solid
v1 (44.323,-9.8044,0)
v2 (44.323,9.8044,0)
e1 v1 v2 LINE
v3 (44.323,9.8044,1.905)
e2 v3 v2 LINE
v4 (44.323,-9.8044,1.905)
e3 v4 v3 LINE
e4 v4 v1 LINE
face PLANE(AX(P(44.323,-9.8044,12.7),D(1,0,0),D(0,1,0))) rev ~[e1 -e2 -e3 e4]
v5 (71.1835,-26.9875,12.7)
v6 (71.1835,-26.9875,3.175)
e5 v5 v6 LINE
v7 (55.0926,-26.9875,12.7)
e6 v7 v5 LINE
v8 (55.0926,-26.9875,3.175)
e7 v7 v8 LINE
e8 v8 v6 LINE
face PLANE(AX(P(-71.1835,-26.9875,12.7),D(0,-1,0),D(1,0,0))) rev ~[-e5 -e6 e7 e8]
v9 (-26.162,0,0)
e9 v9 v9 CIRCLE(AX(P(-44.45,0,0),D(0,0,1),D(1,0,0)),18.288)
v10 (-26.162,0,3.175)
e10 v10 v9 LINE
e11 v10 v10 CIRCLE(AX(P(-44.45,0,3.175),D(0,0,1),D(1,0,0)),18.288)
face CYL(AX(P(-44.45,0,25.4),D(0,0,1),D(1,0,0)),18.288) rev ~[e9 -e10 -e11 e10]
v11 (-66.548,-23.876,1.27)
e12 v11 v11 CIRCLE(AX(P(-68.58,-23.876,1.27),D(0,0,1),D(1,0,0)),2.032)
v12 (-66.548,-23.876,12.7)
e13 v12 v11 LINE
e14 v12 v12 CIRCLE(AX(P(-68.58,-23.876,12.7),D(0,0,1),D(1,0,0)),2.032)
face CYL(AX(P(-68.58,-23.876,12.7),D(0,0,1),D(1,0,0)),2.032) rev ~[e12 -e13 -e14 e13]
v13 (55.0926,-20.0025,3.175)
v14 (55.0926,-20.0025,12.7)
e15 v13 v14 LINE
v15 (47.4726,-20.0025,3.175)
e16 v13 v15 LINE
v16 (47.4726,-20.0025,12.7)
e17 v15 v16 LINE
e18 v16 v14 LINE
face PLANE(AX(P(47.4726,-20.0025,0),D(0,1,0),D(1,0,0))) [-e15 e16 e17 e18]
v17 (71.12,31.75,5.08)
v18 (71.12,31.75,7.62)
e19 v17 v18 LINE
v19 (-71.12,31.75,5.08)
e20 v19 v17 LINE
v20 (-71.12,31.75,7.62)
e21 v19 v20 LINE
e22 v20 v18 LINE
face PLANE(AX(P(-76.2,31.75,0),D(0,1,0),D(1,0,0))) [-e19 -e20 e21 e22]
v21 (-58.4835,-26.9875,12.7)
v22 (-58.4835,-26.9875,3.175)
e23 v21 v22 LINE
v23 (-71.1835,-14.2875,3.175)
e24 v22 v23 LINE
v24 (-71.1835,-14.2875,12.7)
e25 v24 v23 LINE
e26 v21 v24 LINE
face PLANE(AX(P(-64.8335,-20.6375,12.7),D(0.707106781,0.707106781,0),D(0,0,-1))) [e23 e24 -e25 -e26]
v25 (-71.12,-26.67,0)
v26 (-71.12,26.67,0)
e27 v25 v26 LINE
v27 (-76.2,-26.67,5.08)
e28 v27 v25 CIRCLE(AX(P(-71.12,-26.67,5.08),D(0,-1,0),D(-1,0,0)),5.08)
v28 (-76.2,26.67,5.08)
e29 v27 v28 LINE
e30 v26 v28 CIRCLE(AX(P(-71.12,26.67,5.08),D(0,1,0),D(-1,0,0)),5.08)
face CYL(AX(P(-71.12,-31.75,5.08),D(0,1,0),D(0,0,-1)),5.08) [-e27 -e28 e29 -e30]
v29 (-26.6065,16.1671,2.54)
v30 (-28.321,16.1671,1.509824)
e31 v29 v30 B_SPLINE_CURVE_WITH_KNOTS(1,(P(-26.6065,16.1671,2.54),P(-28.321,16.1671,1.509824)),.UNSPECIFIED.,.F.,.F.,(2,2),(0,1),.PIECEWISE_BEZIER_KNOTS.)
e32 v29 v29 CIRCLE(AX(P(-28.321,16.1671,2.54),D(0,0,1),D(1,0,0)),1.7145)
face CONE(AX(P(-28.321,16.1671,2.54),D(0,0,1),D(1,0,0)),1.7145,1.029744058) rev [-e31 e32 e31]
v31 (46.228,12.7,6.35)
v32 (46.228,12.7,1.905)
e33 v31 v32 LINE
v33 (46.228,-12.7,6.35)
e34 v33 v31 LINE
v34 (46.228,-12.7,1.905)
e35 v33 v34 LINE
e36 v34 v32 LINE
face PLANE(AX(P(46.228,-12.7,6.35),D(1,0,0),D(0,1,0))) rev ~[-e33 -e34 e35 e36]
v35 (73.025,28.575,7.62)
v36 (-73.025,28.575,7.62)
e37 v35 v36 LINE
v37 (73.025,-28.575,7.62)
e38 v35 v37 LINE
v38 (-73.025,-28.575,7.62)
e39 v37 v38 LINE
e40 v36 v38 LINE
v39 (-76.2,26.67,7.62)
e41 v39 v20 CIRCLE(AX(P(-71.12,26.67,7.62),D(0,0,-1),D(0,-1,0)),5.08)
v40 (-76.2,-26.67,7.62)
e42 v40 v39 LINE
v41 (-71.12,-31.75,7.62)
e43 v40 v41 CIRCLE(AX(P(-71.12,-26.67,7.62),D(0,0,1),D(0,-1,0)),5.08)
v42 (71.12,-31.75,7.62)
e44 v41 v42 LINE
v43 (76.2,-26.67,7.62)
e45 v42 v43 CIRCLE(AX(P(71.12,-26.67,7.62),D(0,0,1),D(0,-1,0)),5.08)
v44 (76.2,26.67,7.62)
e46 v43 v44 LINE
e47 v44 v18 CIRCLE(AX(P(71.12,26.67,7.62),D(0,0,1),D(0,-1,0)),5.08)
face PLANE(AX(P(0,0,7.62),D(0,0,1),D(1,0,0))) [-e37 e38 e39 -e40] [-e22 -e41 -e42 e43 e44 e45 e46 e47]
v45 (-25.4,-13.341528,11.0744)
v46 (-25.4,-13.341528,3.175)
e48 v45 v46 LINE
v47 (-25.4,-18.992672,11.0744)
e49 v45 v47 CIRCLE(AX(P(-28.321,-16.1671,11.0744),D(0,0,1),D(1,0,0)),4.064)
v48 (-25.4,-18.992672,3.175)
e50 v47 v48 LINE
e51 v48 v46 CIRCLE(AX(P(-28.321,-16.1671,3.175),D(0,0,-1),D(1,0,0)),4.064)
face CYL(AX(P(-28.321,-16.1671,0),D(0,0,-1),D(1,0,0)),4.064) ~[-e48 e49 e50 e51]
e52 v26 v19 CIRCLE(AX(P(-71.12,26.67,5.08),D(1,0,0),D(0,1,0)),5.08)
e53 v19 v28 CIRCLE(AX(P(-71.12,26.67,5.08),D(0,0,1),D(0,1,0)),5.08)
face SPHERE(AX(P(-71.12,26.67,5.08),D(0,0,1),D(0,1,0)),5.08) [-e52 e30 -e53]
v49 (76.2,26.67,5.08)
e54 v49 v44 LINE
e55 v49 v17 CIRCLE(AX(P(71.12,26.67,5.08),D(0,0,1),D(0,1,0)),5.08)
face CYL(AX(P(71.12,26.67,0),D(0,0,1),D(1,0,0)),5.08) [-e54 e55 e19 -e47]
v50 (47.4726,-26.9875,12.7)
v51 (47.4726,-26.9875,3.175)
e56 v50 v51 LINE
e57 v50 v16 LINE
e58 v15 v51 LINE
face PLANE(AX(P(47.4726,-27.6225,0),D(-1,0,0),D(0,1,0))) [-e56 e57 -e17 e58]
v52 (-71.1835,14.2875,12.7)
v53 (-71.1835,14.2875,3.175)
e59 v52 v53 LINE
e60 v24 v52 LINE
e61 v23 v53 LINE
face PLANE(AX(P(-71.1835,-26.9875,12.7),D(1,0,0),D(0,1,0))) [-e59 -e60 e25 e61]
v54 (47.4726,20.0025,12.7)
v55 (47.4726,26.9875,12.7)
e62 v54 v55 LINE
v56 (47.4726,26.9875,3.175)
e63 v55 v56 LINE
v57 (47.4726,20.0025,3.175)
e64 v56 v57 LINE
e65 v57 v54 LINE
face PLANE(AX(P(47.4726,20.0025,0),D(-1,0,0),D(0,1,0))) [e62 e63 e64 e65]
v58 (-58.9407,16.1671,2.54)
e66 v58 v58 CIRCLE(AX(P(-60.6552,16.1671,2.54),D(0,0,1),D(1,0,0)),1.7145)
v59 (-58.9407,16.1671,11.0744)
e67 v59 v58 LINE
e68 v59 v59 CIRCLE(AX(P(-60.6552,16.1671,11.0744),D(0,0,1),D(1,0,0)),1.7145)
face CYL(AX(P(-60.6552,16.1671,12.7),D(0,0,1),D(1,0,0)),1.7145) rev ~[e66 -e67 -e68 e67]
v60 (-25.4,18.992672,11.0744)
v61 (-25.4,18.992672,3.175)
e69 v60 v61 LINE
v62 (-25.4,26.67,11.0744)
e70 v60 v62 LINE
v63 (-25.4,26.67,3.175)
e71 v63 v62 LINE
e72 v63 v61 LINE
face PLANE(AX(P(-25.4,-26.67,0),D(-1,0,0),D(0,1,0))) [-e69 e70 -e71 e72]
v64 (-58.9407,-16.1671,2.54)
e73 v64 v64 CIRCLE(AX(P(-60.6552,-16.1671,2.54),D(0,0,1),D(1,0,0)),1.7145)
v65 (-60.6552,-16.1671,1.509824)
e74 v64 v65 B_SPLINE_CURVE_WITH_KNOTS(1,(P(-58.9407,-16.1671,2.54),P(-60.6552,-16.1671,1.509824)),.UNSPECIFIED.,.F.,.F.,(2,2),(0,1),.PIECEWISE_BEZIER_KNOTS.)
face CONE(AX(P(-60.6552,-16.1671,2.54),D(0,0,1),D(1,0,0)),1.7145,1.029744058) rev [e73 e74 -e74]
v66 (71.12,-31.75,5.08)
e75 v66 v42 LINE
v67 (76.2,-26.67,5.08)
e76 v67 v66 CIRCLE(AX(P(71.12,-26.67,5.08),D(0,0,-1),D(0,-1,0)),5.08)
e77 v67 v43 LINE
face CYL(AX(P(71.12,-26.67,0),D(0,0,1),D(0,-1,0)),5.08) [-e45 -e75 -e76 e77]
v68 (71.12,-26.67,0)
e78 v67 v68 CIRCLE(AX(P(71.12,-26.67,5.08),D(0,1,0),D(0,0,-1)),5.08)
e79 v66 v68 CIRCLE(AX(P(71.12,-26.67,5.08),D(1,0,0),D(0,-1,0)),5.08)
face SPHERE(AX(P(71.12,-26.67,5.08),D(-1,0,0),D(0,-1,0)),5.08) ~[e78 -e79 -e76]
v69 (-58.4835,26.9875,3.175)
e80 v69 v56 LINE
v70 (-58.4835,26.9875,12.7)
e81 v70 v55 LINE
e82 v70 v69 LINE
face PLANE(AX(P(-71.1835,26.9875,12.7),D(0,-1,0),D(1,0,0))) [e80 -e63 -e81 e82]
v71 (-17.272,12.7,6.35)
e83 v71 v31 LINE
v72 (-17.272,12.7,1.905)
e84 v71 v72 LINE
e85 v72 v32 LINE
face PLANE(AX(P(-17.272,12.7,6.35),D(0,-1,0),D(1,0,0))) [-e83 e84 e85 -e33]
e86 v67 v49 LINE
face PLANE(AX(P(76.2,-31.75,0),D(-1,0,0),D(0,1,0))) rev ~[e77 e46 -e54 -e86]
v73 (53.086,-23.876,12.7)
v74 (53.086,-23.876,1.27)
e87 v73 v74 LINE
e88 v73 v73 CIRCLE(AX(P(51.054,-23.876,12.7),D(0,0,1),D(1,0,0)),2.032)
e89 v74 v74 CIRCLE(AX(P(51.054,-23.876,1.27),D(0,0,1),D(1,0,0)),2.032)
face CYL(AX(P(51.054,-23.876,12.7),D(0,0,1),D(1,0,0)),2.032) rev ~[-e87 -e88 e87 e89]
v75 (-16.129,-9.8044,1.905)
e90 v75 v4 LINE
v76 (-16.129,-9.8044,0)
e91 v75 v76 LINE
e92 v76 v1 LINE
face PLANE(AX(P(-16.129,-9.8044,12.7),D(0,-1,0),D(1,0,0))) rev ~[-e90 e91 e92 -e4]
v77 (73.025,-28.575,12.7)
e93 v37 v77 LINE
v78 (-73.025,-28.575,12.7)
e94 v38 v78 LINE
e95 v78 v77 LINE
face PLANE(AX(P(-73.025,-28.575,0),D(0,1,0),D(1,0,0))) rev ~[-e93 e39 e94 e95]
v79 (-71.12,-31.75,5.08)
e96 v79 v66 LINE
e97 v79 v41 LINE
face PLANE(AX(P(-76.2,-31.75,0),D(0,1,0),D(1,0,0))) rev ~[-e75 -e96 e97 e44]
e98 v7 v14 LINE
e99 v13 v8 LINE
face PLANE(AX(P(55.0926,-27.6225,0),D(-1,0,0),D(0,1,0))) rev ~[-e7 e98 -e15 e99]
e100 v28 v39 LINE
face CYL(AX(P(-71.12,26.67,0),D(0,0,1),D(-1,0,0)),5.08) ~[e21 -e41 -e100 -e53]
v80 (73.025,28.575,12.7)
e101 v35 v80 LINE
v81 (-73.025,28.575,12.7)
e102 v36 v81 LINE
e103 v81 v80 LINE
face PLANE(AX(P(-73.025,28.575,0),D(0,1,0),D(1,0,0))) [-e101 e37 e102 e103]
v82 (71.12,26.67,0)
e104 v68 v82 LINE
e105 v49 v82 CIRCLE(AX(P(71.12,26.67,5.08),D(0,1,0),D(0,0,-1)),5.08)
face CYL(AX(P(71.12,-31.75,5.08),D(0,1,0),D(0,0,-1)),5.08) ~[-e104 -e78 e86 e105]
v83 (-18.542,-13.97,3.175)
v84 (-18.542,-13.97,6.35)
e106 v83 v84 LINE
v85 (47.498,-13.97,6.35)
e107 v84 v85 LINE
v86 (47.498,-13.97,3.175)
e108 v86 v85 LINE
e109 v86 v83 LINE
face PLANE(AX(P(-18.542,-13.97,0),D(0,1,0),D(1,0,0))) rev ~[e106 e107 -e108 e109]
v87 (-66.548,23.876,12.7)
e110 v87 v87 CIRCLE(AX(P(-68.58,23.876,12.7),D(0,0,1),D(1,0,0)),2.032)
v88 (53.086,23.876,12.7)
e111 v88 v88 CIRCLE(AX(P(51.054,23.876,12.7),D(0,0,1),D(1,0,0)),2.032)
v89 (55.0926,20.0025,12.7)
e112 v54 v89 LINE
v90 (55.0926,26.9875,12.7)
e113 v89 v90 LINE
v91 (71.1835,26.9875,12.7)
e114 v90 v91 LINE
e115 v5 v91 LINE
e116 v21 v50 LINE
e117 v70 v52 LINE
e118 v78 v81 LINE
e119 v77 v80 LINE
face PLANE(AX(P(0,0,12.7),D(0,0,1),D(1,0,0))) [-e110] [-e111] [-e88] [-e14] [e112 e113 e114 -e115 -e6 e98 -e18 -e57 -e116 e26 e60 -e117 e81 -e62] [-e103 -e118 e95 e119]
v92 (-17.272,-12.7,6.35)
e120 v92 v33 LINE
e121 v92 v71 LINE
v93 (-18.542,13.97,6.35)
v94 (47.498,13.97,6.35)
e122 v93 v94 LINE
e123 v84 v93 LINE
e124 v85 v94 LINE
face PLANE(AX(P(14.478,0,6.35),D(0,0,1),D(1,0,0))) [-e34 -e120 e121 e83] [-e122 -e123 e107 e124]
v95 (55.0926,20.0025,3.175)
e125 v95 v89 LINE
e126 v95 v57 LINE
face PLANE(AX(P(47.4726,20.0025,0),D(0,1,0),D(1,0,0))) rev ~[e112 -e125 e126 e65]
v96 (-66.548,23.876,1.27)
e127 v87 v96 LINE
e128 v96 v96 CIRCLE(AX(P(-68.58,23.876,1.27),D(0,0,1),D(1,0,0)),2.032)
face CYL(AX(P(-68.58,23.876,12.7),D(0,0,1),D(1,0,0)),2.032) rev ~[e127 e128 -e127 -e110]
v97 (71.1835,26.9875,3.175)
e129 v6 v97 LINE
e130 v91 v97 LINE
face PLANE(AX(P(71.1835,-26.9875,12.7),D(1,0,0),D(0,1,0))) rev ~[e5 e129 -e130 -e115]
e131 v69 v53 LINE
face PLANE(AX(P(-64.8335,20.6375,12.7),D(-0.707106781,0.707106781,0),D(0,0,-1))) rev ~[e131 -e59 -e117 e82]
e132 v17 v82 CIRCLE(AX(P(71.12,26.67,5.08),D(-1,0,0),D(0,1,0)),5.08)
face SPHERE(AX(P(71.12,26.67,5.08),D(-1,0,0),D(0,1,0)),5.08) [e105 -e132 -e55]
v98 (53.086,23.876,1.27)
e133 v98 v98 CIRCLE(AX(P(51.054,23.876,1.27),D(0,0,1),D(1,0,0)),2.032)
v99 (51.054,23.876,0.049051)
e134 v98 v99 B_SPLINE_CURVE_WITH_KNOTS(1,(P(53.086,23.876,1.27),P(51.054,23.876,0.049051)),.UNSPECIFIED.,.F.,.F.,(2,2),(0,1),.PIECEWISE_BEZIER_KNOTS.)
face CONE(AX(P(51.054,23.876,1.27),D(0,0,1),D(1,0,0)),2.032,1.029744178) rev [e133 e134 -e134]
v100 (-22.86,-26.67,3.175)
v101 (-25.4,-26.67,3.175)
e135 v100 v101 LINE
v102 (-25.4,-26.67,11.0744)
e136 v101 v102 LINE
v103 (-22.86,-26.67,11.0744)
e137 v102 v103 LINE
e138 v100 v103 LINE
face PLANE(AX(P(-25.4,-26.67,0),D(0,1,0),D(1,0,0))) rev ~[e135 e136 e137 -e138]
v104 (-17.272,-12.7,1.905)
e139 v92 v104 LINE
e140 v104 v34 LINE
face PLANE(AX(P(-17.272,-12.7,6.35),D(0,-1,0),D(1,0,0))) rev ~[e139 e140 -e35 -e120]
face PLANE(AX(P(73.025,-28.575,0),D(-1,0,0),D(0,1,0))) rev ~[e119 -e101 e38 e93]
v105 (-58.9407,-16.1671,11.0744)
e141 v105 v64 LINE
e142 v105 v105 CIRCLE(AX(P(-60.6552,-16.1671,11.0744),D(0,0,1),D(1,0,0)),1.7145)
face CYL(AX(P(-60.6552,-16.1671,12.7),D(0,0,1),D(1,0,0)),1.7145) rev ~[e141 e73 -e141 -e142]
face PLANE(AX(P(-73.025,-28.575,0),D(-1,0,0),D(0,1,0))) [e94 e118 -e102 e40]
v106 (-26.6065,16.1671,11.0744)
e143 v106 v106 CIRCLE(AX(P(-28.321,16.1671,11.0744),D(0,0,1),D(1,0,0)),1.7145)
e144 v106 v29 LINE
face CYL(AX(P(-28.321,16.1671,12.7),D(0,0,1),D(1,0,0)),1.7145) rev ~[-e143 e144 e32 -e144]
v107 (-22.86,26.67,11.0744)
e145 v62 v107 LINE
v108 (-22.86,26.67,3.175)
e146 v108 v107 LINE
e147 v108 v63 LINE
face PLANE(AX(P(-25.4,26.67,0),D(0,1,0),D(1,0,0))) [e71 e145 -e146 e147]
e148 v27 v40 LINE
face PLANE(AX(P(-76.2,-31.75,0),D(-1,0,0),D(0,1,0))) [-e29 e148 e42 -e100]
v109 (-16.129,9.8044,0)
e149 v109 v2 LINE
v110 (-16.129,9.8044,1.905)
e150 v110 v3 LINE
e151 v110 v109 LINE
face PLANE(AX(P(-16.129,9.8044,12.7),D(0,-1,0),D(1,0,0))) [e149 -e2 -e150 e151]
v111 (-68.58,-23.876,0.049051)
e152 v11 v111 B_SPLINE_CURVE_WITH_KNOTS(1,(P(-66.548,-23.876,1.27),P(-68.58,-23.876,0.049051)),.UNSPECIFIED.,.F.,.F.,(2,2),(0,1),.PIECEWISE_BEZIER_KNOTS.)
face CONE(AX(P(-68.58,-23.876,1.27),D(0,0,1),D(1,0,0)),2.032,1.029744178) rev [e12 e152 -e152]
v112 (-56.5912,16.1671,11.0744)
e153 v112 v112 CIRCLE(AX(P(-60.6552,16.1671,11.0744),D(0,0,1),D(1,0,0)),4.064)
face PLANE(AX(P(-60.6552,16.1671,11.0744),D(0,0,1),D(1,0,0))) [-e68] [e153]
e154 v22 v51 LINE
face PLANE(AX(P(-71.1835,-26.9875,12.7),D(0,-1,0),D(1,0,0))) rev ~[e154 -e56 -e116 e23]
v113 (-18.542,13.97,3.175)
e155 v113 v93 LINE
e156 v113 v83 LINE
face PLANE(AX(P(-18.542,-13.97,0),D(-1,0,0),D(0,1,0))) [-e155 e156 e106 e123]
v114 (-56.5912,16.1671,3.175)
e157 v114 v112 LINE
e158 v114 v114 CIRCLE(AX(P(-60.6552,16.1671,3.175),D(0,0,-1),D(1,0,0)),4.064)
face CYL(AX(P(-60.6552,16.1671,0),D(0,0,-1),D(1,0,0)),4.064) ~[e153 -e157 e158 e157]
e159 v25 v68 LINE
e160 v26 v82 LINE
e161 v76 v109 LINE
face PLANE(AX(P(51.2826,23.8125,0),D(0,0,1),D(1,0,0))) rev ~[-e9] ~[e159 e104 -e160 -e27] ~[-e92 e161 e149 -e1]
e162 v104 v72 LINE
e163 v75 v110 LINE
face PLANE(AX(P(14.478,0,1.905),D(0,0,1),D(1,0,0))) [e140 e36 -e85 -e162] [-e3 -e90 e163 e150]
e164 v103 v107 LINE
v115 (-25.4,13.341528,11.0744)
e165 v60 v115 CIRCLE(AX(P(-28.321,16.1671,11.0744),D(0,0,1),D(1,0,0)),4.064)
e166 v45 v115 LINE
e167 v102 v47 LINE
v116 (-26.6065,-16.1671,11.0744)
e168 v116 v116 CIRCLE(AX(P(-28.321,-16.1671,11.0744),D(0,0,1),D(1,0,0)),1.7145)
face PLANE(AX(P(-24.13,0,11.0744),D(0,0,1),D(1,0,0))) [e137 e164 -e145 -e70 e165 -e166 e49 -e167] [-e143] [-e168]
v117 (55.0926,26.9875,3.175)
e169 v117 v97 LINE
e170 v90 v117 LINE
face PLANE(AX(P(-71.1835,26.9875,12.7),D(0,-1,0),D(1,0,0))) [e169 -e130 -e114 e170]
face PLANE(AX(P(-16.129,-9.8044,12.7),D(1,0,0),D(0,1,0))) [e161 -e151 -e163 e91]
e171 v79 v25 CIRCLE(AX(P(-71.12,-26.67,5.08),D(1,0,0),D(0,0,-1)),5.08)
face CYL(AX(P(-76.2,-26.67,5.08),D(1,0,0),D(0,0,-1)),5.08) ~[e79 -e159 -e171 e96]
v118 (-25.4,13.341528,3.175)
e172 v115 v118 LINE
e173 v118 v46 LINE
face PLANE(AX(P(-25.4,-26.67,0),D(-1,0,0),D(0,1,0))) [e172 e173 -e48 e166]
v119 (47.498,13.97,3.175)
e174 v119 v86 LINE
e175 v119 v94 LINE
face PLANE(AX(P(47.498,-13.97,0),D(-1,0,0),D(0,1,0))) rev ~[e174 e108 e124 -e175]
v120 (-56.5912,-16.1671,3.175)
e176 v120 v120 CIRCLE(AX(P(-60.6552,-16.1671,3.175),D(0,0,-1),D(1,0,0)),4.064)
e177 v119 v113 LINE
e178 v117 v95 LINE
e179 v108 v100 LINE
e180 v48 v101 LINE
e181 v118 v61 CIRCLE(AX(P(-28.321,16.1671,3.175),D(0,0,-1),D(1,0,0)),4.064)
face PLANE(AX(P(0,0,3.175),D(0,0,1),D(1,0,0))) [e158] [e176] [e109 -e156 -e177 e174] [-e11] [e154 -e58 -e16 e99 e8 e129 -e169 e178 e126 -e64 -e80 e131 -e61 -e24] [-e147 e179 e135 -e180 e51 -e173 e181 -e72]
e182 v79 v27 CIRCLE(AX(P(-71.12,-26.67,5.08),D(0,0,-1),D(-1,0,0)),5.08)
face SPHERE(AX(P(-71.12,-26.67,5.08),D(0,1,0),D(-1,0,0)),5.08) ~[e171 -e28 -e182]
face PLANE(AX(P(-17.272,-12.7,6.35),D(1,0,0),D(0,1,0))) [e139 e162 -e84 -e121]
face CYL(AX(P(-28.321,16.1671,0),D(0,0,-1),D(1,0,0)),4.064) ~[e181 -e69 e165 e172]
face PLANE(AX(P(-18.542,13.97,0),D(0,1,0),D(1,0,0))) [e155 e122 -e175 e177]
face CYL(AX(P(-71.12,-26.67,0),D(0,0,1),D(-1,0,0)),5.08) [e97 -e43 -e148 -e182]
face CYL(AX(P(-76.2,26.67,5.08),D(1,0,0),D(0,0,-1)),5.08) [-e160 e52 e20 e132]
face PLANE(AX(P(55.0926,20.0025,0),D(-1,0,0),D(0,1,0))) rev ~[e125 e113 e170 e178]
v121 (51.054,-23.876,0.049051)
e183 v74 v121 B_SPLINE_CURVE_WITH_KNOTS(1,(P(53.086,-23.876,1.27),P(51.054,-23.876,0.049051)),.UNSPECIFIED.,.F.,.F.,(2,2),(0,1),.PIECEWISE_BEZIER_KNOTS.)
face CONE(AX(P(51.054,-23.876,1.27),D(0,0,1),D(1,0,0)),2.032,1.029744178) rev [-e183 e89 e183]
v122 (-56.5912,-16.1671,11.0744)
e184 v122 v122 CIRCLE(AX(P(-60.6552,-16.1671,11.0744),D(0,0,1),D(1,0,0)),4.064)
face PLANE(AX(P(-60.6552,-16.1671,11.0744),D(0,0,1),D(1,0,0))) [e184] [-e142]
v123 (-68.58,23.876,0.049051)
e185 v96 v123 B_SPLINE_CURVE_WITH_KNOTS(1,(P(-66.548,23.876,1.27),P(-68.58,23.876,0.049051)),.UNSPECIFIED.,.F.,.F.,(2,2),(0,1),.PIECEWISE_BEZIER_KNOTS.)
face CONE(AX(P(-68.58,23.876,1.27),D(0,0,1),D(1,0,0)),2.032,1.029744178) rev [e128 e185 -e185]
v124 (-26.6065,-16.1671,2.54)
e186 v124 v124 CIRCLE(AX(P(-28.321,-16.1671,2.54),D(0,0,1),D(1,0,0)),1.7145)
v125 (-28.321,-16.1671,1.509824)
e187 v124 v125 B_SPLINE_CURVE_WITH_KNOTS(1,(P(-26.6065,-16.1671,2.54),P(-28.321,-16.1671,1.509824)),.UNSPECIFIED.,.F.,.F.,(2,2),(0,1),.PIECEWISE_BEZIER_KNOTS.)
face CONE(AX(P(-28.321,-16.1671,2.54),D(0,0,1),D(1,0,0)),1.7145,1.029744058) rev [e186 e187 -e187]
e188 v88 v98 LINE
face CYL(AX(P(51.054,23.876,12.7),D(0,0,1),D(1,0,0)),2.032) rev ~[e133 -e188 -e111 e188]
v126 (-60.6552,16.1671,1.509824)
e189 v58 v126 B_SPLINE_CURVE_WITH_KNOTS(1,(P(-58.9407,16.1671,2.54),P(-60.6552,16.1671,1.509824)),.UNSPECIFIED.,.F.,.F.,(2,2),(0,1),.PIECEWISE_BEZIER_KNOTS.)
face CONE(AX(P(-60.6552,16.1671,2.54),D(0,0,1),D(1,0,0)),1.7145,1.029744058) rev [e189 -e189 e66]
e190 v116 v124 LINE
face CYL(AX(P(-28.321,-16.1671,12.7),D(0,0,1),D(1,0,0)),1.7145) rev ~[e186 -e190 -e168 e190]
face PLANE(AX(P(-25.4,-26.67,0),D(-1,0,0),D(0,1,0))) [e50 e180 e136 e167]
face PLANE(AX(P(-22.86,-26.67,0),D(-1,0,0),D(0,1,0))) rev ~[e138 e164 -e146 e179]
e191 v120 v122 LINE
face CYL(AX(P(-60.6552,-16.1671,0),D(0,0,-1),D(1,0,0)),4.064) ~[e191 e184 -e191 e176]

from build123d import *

# Parameters (mm, degrees)
SKETCH_W        = 152.4
SKETCH_H        = 63.5
PAD_DEPTH       = 7.62
SKETCH001_W     = 146.05
SKETCH001_H     = 57.15
PAD001_DEPTH    = 12.7
SKETCH002_W     = 142.367
SKETCH002_H     = 53.975
POCKET_DEPTH    = 9.525
CHAMFER_SIZE    = 12.7
SKETCH003_R     = 18.288
POCKET001_DEPTH = 25.401
SKETCH004_R     = 4.064
PAD002_DEPTH    = 11.0744
SKETCH005_R     = 1.7145
HOLE_DEPTH      = 10.16
HOLE_TIPS_R     = 1.7145
SKETCH006_W     = 2.54
SKETCH006_H     = 53.34
PAD003_DEPTH    = 11.0744
SKETCH008_W     = 66.04
SKETCH008_H     = 27.94
PAD004_DEPTH    = 6.35
SKETCH009_W     = 63.5
SKETCH009_H     = 25.4
POCKET003_DEPTH = 4.445
SKETCH010_W     = 60.452
SKETCH010_H     = 19.6088
POCKET004_DEPTH = 12.701
SKETCH011_W     = 7.62
SKETCH011_H     = 7.62
PAD005_DEPTH    = 12.7
SKETCH012_R     = 2.032
HOLE001_DEPTH   = 11.43
HOLE001_TIPS_R  = 2.032
FILLET_R        = 5.08


with BuildPart() as part:
    # Sketch → Pad (new body)
    with BuildSketch(Plane.XY):
        Rectangle(SKETCH_W, SKETCH_H)
    extrude(amount=PAD_DEPTH)

    # Sketch001 → Pad001 (join)
    with BuildSketch(Plane.XY):
        Rectangle(SKETCH001_W, SKETCH001_H)
    extrude(amount=PAD001_DEPTH)

    # Sketch002 → Pocket (cut)
    with BuildSketch(Plane.XY.offset(12.7)):
        Rectangle(SKETCH002_W, SKETCH002_H)
    extrude(amount=-POCKET_DEPTH, mode=Mode.SUBTRACT)

    # Chamfer
    chamfer_edges = [part.edges().sort_by_distance(p)[0] for p in [
        (-71.1835, 26.9875, 7.9375),
        (-71.1835, -26.9875, 7.9375),
    ]]
    chamfer(chamfer_edges, length=CHAMFER_SIZE)

    # Sketch003 → Pocket001 (cut, through all)
    with BuildSketch(Plane.XY.offset(25.4)):
        with Locations((-44.45, 0)):
            Circle(SKETCH003_R)
    extrude(amount=-POCKET001_DEPTH, mode=Mode.SUBTRACT)

    # Sketch004 → Pad002 (join)
    with BuildSketch(Plane.XY):
        with Locations((-60.6552, -16.1671)):
            Circle(SKETCH004_R)
        with Locations((-28.321, -16.1671)):
            Circle(SKETCH004_R)
        with Locations((-28.321, 16.1671)):
            Circle(SKETCH004_R)
        with Locations((-60.6552, 16.1671)):
            Circle(SKETCH004_R)
    extrude(amount=PAD002_DEPTH)

    # Sketch005 → Hole (cut)
    with BuildSketch(Plane.XY.offset(12.7)):
        with Locations((-60.6552, -16.1671)):
            Circle(SKETCH005_R)
        with Locations((-28.321, -16.1671)):
            Circle(SKETCH005_R)
        with Locations((-28.321, 16.1671)):
            Circle(SKETCH005_R)
        with Locations((-60.6552, 16.1671)):
            Circle(SKETCH005_R)
    extrude(amount=-HOLE_DEPTH, mode=Mode.SUBTRACT)

    # Hole tips → Hole tip 1 section 0
    with BuildSketch(Plane.XY.offset(2.54), mode=Mode.PRIVATE) as hole_tip_1_s0:
        with Locations((-60.6552, -16.1671)):
            Circle(HOLE_TIPS_R)
    loft([hole_tip_1_s0.sketch, Vertex(-60.6552, -16.1671, 1.509824)], mode=Mode.SUBTRACT)

    # Hole tips → Hole tip 2 section 0
    with BuildSketch(Plane.XY.offset(2.54), mode=Mode.PRIVATE) as hole_tip_2_s0:
        with Locations((-28.321, -16.1671)):
            Circle(HOLE_TIPS_R)
    loft([hole_tip_2_s0.sketch, Vertex(-28.321, -16.1671, 1.509824)], mode=Mode.SUBTRACT)

    # Hole tips → Hole tip 3 section 0
    with BuildSketch(Plane.XY.offset(2.54), mode=Mode.PRIVATE) as hole_tip_3_s0:
        with Locations((-28.321, 16.1671)):
            Circle(HOLE_TIPS_R)
    loft([hole_tip_3_s0.sketch, Vertex(-28.321, 16.1671, 1.509824)], mode=Mode.SUBTRACT)

    # Hole tips → Hole tip 4 section 0
    with BuildSketch(Plane.XY.offset(2.54), mode=Mode.PRIVATE) as hole_tip_4_s0:
        with Locations((-60.6552, 16.1671)):
            Circle(HOLE_TIPS_R)
    loft([hole_tip_4_s0.sketch, Vertex(-60.6552, 16.1671, 1.509824)], mode=Mode.SUBTRACT)

    # Sketch006 → Pad003 (join)
    with BuildSketch(Plane.XY):
        with Locations((-24.13, 0)):
            Rectangle(SKETCH006_W, SKETCH006_H)
    extrude(amount=PAD003_DEPTH)

    # Sketch008 → Pad004 (join)
    with BuildSketch(Plane.XY):
        with Locations((14.478, 0)):
            Rectangle(SKETCH008_W, SKETCH008_H)
    extrude(amount=PAD004_DEPTH)

    # Sketch009 → Pocket003 (cut)
    with BuildSketch(Plane.XY.offset(6.35)):
        with Locations((14.478, 0)):
            Rectangle(SKETCH009_W, SKETCH009_H)
    extrude(amount=-POCKET003_DEPTH, mode=Mode.SUBTRACT)

    # Sketch010 → Pocket004 (cut, through all)
    with BuildSketch(Plane.XY.offset(12.7)):
        with Locations((14.097, 0)):
            Rectangle(SKETCH010_W, SKETCH010_H)
    extrude(amount=-POCKET004_DEPTH, mode=Mode.SUBTRACT)

    # Sketch011 → Pad005 (join)
    with BuildSketch(Plane.XY):
        with Locations((51.2826, 23.8125)):
            Rectangle(SKETCH011_W, SKETCH011_H)
        with Locations((51.2826, -23.8125)):
            Rectangle(SKETCH011_W, SKETCH011_H)
    extrude(amount=PAD005_DEPTH)

    # Sketch012 → Hole001 (cut)
    with BuildSketch(Plane.XY.offset(12.7)):
        with Locations((-68.58, 23.876)):
            Circle(SKETCH012_R)
        with Locations((-68.58, -23.876)):
            Circle(SKETCH012_R)
        with Locations((51.054, 23.876)):
            Circle(SKETCH012_R)
        with Locations((51.054, -23.876)):
            Circle(SKETCH012_R)
    extrude(amount=-HOLE001_DEPTH, mode=Mode.SUBTRACT)

    # Hole001 tips → Hole001 tip 1 section 0
    with BuildSketch(Plane.XY.offset(1.27), mode=Mode.PRIVATE) as hole001_tip_1_s0:
        with Locations((-68.58, 23.876)):
            Circle(HOLE001_TIPS_R)
    loft([hole001_tip_1_s0.sketch, Vertex(-68.58, 23.876, 0.049051)], mode=Mode.SUBTRACT)

    # Hole001 tips → Hole001 tip 2 section 0
    with BuildSketch(Plane.XY.offset(1.27), mode=Mode.PRIVATE) as hole001_tip_2_s0:
        with Locations((-68.58, -23.876)):
            Circle(HOLE001_TIPS_R)
    loft([hole001_tip_2_s0.sketch, Vertex(-68.58, -23.876, 0.049051)], mode=Mode.SUBTRACT)

    # Hole001 tips → Hole001 tip 3 section 0
    with BuildSketch(Plane.XY.offset(1.27), mode=Mode.PRIVATE) as hole001_tip_3_s0:
        with Locations((51.054, 23.876)):
            Circle(HOLE001_TIPS_R)
    loft([hole001_tip_3_s0.sketch, Vertex(51.054, 23.876, 0.049051)], mode=Mode.SUBTRACT)

    # Hole001 tips → Hole001 tip 4 section 0
    with BuildSketch(Plane.XY.offset(1.27), mode=Mode.PRIVATE) as hole001_tip_4_s0:
        with Locations((51.054, -23.876)):
            Circle(HOLE001_TIPS_R)
    loft([hole001_tip_4_s0.sketch, Vertex(51.054, -23.876, 0.049051)], mode=Mode.SUBTRACT)

    # Fillet
    fillet_edges = [part.edges().sort_by_distance(p)[0] for p in [
        (-76.2, 31.75, 3.81),
        (0, 31.75, 0),
        (76.2, 31.75, 3.81),
        (-76.2, 0, 0),
        (-76.2, -31.75, 3.81),
        (0, -31.75, 0),
        (76.2, -31.75, 3.81),
        (76.2, 0, 0),
    ]]
    fillet(fillet_edges, radius=FILLET_R)


solid = part.part
